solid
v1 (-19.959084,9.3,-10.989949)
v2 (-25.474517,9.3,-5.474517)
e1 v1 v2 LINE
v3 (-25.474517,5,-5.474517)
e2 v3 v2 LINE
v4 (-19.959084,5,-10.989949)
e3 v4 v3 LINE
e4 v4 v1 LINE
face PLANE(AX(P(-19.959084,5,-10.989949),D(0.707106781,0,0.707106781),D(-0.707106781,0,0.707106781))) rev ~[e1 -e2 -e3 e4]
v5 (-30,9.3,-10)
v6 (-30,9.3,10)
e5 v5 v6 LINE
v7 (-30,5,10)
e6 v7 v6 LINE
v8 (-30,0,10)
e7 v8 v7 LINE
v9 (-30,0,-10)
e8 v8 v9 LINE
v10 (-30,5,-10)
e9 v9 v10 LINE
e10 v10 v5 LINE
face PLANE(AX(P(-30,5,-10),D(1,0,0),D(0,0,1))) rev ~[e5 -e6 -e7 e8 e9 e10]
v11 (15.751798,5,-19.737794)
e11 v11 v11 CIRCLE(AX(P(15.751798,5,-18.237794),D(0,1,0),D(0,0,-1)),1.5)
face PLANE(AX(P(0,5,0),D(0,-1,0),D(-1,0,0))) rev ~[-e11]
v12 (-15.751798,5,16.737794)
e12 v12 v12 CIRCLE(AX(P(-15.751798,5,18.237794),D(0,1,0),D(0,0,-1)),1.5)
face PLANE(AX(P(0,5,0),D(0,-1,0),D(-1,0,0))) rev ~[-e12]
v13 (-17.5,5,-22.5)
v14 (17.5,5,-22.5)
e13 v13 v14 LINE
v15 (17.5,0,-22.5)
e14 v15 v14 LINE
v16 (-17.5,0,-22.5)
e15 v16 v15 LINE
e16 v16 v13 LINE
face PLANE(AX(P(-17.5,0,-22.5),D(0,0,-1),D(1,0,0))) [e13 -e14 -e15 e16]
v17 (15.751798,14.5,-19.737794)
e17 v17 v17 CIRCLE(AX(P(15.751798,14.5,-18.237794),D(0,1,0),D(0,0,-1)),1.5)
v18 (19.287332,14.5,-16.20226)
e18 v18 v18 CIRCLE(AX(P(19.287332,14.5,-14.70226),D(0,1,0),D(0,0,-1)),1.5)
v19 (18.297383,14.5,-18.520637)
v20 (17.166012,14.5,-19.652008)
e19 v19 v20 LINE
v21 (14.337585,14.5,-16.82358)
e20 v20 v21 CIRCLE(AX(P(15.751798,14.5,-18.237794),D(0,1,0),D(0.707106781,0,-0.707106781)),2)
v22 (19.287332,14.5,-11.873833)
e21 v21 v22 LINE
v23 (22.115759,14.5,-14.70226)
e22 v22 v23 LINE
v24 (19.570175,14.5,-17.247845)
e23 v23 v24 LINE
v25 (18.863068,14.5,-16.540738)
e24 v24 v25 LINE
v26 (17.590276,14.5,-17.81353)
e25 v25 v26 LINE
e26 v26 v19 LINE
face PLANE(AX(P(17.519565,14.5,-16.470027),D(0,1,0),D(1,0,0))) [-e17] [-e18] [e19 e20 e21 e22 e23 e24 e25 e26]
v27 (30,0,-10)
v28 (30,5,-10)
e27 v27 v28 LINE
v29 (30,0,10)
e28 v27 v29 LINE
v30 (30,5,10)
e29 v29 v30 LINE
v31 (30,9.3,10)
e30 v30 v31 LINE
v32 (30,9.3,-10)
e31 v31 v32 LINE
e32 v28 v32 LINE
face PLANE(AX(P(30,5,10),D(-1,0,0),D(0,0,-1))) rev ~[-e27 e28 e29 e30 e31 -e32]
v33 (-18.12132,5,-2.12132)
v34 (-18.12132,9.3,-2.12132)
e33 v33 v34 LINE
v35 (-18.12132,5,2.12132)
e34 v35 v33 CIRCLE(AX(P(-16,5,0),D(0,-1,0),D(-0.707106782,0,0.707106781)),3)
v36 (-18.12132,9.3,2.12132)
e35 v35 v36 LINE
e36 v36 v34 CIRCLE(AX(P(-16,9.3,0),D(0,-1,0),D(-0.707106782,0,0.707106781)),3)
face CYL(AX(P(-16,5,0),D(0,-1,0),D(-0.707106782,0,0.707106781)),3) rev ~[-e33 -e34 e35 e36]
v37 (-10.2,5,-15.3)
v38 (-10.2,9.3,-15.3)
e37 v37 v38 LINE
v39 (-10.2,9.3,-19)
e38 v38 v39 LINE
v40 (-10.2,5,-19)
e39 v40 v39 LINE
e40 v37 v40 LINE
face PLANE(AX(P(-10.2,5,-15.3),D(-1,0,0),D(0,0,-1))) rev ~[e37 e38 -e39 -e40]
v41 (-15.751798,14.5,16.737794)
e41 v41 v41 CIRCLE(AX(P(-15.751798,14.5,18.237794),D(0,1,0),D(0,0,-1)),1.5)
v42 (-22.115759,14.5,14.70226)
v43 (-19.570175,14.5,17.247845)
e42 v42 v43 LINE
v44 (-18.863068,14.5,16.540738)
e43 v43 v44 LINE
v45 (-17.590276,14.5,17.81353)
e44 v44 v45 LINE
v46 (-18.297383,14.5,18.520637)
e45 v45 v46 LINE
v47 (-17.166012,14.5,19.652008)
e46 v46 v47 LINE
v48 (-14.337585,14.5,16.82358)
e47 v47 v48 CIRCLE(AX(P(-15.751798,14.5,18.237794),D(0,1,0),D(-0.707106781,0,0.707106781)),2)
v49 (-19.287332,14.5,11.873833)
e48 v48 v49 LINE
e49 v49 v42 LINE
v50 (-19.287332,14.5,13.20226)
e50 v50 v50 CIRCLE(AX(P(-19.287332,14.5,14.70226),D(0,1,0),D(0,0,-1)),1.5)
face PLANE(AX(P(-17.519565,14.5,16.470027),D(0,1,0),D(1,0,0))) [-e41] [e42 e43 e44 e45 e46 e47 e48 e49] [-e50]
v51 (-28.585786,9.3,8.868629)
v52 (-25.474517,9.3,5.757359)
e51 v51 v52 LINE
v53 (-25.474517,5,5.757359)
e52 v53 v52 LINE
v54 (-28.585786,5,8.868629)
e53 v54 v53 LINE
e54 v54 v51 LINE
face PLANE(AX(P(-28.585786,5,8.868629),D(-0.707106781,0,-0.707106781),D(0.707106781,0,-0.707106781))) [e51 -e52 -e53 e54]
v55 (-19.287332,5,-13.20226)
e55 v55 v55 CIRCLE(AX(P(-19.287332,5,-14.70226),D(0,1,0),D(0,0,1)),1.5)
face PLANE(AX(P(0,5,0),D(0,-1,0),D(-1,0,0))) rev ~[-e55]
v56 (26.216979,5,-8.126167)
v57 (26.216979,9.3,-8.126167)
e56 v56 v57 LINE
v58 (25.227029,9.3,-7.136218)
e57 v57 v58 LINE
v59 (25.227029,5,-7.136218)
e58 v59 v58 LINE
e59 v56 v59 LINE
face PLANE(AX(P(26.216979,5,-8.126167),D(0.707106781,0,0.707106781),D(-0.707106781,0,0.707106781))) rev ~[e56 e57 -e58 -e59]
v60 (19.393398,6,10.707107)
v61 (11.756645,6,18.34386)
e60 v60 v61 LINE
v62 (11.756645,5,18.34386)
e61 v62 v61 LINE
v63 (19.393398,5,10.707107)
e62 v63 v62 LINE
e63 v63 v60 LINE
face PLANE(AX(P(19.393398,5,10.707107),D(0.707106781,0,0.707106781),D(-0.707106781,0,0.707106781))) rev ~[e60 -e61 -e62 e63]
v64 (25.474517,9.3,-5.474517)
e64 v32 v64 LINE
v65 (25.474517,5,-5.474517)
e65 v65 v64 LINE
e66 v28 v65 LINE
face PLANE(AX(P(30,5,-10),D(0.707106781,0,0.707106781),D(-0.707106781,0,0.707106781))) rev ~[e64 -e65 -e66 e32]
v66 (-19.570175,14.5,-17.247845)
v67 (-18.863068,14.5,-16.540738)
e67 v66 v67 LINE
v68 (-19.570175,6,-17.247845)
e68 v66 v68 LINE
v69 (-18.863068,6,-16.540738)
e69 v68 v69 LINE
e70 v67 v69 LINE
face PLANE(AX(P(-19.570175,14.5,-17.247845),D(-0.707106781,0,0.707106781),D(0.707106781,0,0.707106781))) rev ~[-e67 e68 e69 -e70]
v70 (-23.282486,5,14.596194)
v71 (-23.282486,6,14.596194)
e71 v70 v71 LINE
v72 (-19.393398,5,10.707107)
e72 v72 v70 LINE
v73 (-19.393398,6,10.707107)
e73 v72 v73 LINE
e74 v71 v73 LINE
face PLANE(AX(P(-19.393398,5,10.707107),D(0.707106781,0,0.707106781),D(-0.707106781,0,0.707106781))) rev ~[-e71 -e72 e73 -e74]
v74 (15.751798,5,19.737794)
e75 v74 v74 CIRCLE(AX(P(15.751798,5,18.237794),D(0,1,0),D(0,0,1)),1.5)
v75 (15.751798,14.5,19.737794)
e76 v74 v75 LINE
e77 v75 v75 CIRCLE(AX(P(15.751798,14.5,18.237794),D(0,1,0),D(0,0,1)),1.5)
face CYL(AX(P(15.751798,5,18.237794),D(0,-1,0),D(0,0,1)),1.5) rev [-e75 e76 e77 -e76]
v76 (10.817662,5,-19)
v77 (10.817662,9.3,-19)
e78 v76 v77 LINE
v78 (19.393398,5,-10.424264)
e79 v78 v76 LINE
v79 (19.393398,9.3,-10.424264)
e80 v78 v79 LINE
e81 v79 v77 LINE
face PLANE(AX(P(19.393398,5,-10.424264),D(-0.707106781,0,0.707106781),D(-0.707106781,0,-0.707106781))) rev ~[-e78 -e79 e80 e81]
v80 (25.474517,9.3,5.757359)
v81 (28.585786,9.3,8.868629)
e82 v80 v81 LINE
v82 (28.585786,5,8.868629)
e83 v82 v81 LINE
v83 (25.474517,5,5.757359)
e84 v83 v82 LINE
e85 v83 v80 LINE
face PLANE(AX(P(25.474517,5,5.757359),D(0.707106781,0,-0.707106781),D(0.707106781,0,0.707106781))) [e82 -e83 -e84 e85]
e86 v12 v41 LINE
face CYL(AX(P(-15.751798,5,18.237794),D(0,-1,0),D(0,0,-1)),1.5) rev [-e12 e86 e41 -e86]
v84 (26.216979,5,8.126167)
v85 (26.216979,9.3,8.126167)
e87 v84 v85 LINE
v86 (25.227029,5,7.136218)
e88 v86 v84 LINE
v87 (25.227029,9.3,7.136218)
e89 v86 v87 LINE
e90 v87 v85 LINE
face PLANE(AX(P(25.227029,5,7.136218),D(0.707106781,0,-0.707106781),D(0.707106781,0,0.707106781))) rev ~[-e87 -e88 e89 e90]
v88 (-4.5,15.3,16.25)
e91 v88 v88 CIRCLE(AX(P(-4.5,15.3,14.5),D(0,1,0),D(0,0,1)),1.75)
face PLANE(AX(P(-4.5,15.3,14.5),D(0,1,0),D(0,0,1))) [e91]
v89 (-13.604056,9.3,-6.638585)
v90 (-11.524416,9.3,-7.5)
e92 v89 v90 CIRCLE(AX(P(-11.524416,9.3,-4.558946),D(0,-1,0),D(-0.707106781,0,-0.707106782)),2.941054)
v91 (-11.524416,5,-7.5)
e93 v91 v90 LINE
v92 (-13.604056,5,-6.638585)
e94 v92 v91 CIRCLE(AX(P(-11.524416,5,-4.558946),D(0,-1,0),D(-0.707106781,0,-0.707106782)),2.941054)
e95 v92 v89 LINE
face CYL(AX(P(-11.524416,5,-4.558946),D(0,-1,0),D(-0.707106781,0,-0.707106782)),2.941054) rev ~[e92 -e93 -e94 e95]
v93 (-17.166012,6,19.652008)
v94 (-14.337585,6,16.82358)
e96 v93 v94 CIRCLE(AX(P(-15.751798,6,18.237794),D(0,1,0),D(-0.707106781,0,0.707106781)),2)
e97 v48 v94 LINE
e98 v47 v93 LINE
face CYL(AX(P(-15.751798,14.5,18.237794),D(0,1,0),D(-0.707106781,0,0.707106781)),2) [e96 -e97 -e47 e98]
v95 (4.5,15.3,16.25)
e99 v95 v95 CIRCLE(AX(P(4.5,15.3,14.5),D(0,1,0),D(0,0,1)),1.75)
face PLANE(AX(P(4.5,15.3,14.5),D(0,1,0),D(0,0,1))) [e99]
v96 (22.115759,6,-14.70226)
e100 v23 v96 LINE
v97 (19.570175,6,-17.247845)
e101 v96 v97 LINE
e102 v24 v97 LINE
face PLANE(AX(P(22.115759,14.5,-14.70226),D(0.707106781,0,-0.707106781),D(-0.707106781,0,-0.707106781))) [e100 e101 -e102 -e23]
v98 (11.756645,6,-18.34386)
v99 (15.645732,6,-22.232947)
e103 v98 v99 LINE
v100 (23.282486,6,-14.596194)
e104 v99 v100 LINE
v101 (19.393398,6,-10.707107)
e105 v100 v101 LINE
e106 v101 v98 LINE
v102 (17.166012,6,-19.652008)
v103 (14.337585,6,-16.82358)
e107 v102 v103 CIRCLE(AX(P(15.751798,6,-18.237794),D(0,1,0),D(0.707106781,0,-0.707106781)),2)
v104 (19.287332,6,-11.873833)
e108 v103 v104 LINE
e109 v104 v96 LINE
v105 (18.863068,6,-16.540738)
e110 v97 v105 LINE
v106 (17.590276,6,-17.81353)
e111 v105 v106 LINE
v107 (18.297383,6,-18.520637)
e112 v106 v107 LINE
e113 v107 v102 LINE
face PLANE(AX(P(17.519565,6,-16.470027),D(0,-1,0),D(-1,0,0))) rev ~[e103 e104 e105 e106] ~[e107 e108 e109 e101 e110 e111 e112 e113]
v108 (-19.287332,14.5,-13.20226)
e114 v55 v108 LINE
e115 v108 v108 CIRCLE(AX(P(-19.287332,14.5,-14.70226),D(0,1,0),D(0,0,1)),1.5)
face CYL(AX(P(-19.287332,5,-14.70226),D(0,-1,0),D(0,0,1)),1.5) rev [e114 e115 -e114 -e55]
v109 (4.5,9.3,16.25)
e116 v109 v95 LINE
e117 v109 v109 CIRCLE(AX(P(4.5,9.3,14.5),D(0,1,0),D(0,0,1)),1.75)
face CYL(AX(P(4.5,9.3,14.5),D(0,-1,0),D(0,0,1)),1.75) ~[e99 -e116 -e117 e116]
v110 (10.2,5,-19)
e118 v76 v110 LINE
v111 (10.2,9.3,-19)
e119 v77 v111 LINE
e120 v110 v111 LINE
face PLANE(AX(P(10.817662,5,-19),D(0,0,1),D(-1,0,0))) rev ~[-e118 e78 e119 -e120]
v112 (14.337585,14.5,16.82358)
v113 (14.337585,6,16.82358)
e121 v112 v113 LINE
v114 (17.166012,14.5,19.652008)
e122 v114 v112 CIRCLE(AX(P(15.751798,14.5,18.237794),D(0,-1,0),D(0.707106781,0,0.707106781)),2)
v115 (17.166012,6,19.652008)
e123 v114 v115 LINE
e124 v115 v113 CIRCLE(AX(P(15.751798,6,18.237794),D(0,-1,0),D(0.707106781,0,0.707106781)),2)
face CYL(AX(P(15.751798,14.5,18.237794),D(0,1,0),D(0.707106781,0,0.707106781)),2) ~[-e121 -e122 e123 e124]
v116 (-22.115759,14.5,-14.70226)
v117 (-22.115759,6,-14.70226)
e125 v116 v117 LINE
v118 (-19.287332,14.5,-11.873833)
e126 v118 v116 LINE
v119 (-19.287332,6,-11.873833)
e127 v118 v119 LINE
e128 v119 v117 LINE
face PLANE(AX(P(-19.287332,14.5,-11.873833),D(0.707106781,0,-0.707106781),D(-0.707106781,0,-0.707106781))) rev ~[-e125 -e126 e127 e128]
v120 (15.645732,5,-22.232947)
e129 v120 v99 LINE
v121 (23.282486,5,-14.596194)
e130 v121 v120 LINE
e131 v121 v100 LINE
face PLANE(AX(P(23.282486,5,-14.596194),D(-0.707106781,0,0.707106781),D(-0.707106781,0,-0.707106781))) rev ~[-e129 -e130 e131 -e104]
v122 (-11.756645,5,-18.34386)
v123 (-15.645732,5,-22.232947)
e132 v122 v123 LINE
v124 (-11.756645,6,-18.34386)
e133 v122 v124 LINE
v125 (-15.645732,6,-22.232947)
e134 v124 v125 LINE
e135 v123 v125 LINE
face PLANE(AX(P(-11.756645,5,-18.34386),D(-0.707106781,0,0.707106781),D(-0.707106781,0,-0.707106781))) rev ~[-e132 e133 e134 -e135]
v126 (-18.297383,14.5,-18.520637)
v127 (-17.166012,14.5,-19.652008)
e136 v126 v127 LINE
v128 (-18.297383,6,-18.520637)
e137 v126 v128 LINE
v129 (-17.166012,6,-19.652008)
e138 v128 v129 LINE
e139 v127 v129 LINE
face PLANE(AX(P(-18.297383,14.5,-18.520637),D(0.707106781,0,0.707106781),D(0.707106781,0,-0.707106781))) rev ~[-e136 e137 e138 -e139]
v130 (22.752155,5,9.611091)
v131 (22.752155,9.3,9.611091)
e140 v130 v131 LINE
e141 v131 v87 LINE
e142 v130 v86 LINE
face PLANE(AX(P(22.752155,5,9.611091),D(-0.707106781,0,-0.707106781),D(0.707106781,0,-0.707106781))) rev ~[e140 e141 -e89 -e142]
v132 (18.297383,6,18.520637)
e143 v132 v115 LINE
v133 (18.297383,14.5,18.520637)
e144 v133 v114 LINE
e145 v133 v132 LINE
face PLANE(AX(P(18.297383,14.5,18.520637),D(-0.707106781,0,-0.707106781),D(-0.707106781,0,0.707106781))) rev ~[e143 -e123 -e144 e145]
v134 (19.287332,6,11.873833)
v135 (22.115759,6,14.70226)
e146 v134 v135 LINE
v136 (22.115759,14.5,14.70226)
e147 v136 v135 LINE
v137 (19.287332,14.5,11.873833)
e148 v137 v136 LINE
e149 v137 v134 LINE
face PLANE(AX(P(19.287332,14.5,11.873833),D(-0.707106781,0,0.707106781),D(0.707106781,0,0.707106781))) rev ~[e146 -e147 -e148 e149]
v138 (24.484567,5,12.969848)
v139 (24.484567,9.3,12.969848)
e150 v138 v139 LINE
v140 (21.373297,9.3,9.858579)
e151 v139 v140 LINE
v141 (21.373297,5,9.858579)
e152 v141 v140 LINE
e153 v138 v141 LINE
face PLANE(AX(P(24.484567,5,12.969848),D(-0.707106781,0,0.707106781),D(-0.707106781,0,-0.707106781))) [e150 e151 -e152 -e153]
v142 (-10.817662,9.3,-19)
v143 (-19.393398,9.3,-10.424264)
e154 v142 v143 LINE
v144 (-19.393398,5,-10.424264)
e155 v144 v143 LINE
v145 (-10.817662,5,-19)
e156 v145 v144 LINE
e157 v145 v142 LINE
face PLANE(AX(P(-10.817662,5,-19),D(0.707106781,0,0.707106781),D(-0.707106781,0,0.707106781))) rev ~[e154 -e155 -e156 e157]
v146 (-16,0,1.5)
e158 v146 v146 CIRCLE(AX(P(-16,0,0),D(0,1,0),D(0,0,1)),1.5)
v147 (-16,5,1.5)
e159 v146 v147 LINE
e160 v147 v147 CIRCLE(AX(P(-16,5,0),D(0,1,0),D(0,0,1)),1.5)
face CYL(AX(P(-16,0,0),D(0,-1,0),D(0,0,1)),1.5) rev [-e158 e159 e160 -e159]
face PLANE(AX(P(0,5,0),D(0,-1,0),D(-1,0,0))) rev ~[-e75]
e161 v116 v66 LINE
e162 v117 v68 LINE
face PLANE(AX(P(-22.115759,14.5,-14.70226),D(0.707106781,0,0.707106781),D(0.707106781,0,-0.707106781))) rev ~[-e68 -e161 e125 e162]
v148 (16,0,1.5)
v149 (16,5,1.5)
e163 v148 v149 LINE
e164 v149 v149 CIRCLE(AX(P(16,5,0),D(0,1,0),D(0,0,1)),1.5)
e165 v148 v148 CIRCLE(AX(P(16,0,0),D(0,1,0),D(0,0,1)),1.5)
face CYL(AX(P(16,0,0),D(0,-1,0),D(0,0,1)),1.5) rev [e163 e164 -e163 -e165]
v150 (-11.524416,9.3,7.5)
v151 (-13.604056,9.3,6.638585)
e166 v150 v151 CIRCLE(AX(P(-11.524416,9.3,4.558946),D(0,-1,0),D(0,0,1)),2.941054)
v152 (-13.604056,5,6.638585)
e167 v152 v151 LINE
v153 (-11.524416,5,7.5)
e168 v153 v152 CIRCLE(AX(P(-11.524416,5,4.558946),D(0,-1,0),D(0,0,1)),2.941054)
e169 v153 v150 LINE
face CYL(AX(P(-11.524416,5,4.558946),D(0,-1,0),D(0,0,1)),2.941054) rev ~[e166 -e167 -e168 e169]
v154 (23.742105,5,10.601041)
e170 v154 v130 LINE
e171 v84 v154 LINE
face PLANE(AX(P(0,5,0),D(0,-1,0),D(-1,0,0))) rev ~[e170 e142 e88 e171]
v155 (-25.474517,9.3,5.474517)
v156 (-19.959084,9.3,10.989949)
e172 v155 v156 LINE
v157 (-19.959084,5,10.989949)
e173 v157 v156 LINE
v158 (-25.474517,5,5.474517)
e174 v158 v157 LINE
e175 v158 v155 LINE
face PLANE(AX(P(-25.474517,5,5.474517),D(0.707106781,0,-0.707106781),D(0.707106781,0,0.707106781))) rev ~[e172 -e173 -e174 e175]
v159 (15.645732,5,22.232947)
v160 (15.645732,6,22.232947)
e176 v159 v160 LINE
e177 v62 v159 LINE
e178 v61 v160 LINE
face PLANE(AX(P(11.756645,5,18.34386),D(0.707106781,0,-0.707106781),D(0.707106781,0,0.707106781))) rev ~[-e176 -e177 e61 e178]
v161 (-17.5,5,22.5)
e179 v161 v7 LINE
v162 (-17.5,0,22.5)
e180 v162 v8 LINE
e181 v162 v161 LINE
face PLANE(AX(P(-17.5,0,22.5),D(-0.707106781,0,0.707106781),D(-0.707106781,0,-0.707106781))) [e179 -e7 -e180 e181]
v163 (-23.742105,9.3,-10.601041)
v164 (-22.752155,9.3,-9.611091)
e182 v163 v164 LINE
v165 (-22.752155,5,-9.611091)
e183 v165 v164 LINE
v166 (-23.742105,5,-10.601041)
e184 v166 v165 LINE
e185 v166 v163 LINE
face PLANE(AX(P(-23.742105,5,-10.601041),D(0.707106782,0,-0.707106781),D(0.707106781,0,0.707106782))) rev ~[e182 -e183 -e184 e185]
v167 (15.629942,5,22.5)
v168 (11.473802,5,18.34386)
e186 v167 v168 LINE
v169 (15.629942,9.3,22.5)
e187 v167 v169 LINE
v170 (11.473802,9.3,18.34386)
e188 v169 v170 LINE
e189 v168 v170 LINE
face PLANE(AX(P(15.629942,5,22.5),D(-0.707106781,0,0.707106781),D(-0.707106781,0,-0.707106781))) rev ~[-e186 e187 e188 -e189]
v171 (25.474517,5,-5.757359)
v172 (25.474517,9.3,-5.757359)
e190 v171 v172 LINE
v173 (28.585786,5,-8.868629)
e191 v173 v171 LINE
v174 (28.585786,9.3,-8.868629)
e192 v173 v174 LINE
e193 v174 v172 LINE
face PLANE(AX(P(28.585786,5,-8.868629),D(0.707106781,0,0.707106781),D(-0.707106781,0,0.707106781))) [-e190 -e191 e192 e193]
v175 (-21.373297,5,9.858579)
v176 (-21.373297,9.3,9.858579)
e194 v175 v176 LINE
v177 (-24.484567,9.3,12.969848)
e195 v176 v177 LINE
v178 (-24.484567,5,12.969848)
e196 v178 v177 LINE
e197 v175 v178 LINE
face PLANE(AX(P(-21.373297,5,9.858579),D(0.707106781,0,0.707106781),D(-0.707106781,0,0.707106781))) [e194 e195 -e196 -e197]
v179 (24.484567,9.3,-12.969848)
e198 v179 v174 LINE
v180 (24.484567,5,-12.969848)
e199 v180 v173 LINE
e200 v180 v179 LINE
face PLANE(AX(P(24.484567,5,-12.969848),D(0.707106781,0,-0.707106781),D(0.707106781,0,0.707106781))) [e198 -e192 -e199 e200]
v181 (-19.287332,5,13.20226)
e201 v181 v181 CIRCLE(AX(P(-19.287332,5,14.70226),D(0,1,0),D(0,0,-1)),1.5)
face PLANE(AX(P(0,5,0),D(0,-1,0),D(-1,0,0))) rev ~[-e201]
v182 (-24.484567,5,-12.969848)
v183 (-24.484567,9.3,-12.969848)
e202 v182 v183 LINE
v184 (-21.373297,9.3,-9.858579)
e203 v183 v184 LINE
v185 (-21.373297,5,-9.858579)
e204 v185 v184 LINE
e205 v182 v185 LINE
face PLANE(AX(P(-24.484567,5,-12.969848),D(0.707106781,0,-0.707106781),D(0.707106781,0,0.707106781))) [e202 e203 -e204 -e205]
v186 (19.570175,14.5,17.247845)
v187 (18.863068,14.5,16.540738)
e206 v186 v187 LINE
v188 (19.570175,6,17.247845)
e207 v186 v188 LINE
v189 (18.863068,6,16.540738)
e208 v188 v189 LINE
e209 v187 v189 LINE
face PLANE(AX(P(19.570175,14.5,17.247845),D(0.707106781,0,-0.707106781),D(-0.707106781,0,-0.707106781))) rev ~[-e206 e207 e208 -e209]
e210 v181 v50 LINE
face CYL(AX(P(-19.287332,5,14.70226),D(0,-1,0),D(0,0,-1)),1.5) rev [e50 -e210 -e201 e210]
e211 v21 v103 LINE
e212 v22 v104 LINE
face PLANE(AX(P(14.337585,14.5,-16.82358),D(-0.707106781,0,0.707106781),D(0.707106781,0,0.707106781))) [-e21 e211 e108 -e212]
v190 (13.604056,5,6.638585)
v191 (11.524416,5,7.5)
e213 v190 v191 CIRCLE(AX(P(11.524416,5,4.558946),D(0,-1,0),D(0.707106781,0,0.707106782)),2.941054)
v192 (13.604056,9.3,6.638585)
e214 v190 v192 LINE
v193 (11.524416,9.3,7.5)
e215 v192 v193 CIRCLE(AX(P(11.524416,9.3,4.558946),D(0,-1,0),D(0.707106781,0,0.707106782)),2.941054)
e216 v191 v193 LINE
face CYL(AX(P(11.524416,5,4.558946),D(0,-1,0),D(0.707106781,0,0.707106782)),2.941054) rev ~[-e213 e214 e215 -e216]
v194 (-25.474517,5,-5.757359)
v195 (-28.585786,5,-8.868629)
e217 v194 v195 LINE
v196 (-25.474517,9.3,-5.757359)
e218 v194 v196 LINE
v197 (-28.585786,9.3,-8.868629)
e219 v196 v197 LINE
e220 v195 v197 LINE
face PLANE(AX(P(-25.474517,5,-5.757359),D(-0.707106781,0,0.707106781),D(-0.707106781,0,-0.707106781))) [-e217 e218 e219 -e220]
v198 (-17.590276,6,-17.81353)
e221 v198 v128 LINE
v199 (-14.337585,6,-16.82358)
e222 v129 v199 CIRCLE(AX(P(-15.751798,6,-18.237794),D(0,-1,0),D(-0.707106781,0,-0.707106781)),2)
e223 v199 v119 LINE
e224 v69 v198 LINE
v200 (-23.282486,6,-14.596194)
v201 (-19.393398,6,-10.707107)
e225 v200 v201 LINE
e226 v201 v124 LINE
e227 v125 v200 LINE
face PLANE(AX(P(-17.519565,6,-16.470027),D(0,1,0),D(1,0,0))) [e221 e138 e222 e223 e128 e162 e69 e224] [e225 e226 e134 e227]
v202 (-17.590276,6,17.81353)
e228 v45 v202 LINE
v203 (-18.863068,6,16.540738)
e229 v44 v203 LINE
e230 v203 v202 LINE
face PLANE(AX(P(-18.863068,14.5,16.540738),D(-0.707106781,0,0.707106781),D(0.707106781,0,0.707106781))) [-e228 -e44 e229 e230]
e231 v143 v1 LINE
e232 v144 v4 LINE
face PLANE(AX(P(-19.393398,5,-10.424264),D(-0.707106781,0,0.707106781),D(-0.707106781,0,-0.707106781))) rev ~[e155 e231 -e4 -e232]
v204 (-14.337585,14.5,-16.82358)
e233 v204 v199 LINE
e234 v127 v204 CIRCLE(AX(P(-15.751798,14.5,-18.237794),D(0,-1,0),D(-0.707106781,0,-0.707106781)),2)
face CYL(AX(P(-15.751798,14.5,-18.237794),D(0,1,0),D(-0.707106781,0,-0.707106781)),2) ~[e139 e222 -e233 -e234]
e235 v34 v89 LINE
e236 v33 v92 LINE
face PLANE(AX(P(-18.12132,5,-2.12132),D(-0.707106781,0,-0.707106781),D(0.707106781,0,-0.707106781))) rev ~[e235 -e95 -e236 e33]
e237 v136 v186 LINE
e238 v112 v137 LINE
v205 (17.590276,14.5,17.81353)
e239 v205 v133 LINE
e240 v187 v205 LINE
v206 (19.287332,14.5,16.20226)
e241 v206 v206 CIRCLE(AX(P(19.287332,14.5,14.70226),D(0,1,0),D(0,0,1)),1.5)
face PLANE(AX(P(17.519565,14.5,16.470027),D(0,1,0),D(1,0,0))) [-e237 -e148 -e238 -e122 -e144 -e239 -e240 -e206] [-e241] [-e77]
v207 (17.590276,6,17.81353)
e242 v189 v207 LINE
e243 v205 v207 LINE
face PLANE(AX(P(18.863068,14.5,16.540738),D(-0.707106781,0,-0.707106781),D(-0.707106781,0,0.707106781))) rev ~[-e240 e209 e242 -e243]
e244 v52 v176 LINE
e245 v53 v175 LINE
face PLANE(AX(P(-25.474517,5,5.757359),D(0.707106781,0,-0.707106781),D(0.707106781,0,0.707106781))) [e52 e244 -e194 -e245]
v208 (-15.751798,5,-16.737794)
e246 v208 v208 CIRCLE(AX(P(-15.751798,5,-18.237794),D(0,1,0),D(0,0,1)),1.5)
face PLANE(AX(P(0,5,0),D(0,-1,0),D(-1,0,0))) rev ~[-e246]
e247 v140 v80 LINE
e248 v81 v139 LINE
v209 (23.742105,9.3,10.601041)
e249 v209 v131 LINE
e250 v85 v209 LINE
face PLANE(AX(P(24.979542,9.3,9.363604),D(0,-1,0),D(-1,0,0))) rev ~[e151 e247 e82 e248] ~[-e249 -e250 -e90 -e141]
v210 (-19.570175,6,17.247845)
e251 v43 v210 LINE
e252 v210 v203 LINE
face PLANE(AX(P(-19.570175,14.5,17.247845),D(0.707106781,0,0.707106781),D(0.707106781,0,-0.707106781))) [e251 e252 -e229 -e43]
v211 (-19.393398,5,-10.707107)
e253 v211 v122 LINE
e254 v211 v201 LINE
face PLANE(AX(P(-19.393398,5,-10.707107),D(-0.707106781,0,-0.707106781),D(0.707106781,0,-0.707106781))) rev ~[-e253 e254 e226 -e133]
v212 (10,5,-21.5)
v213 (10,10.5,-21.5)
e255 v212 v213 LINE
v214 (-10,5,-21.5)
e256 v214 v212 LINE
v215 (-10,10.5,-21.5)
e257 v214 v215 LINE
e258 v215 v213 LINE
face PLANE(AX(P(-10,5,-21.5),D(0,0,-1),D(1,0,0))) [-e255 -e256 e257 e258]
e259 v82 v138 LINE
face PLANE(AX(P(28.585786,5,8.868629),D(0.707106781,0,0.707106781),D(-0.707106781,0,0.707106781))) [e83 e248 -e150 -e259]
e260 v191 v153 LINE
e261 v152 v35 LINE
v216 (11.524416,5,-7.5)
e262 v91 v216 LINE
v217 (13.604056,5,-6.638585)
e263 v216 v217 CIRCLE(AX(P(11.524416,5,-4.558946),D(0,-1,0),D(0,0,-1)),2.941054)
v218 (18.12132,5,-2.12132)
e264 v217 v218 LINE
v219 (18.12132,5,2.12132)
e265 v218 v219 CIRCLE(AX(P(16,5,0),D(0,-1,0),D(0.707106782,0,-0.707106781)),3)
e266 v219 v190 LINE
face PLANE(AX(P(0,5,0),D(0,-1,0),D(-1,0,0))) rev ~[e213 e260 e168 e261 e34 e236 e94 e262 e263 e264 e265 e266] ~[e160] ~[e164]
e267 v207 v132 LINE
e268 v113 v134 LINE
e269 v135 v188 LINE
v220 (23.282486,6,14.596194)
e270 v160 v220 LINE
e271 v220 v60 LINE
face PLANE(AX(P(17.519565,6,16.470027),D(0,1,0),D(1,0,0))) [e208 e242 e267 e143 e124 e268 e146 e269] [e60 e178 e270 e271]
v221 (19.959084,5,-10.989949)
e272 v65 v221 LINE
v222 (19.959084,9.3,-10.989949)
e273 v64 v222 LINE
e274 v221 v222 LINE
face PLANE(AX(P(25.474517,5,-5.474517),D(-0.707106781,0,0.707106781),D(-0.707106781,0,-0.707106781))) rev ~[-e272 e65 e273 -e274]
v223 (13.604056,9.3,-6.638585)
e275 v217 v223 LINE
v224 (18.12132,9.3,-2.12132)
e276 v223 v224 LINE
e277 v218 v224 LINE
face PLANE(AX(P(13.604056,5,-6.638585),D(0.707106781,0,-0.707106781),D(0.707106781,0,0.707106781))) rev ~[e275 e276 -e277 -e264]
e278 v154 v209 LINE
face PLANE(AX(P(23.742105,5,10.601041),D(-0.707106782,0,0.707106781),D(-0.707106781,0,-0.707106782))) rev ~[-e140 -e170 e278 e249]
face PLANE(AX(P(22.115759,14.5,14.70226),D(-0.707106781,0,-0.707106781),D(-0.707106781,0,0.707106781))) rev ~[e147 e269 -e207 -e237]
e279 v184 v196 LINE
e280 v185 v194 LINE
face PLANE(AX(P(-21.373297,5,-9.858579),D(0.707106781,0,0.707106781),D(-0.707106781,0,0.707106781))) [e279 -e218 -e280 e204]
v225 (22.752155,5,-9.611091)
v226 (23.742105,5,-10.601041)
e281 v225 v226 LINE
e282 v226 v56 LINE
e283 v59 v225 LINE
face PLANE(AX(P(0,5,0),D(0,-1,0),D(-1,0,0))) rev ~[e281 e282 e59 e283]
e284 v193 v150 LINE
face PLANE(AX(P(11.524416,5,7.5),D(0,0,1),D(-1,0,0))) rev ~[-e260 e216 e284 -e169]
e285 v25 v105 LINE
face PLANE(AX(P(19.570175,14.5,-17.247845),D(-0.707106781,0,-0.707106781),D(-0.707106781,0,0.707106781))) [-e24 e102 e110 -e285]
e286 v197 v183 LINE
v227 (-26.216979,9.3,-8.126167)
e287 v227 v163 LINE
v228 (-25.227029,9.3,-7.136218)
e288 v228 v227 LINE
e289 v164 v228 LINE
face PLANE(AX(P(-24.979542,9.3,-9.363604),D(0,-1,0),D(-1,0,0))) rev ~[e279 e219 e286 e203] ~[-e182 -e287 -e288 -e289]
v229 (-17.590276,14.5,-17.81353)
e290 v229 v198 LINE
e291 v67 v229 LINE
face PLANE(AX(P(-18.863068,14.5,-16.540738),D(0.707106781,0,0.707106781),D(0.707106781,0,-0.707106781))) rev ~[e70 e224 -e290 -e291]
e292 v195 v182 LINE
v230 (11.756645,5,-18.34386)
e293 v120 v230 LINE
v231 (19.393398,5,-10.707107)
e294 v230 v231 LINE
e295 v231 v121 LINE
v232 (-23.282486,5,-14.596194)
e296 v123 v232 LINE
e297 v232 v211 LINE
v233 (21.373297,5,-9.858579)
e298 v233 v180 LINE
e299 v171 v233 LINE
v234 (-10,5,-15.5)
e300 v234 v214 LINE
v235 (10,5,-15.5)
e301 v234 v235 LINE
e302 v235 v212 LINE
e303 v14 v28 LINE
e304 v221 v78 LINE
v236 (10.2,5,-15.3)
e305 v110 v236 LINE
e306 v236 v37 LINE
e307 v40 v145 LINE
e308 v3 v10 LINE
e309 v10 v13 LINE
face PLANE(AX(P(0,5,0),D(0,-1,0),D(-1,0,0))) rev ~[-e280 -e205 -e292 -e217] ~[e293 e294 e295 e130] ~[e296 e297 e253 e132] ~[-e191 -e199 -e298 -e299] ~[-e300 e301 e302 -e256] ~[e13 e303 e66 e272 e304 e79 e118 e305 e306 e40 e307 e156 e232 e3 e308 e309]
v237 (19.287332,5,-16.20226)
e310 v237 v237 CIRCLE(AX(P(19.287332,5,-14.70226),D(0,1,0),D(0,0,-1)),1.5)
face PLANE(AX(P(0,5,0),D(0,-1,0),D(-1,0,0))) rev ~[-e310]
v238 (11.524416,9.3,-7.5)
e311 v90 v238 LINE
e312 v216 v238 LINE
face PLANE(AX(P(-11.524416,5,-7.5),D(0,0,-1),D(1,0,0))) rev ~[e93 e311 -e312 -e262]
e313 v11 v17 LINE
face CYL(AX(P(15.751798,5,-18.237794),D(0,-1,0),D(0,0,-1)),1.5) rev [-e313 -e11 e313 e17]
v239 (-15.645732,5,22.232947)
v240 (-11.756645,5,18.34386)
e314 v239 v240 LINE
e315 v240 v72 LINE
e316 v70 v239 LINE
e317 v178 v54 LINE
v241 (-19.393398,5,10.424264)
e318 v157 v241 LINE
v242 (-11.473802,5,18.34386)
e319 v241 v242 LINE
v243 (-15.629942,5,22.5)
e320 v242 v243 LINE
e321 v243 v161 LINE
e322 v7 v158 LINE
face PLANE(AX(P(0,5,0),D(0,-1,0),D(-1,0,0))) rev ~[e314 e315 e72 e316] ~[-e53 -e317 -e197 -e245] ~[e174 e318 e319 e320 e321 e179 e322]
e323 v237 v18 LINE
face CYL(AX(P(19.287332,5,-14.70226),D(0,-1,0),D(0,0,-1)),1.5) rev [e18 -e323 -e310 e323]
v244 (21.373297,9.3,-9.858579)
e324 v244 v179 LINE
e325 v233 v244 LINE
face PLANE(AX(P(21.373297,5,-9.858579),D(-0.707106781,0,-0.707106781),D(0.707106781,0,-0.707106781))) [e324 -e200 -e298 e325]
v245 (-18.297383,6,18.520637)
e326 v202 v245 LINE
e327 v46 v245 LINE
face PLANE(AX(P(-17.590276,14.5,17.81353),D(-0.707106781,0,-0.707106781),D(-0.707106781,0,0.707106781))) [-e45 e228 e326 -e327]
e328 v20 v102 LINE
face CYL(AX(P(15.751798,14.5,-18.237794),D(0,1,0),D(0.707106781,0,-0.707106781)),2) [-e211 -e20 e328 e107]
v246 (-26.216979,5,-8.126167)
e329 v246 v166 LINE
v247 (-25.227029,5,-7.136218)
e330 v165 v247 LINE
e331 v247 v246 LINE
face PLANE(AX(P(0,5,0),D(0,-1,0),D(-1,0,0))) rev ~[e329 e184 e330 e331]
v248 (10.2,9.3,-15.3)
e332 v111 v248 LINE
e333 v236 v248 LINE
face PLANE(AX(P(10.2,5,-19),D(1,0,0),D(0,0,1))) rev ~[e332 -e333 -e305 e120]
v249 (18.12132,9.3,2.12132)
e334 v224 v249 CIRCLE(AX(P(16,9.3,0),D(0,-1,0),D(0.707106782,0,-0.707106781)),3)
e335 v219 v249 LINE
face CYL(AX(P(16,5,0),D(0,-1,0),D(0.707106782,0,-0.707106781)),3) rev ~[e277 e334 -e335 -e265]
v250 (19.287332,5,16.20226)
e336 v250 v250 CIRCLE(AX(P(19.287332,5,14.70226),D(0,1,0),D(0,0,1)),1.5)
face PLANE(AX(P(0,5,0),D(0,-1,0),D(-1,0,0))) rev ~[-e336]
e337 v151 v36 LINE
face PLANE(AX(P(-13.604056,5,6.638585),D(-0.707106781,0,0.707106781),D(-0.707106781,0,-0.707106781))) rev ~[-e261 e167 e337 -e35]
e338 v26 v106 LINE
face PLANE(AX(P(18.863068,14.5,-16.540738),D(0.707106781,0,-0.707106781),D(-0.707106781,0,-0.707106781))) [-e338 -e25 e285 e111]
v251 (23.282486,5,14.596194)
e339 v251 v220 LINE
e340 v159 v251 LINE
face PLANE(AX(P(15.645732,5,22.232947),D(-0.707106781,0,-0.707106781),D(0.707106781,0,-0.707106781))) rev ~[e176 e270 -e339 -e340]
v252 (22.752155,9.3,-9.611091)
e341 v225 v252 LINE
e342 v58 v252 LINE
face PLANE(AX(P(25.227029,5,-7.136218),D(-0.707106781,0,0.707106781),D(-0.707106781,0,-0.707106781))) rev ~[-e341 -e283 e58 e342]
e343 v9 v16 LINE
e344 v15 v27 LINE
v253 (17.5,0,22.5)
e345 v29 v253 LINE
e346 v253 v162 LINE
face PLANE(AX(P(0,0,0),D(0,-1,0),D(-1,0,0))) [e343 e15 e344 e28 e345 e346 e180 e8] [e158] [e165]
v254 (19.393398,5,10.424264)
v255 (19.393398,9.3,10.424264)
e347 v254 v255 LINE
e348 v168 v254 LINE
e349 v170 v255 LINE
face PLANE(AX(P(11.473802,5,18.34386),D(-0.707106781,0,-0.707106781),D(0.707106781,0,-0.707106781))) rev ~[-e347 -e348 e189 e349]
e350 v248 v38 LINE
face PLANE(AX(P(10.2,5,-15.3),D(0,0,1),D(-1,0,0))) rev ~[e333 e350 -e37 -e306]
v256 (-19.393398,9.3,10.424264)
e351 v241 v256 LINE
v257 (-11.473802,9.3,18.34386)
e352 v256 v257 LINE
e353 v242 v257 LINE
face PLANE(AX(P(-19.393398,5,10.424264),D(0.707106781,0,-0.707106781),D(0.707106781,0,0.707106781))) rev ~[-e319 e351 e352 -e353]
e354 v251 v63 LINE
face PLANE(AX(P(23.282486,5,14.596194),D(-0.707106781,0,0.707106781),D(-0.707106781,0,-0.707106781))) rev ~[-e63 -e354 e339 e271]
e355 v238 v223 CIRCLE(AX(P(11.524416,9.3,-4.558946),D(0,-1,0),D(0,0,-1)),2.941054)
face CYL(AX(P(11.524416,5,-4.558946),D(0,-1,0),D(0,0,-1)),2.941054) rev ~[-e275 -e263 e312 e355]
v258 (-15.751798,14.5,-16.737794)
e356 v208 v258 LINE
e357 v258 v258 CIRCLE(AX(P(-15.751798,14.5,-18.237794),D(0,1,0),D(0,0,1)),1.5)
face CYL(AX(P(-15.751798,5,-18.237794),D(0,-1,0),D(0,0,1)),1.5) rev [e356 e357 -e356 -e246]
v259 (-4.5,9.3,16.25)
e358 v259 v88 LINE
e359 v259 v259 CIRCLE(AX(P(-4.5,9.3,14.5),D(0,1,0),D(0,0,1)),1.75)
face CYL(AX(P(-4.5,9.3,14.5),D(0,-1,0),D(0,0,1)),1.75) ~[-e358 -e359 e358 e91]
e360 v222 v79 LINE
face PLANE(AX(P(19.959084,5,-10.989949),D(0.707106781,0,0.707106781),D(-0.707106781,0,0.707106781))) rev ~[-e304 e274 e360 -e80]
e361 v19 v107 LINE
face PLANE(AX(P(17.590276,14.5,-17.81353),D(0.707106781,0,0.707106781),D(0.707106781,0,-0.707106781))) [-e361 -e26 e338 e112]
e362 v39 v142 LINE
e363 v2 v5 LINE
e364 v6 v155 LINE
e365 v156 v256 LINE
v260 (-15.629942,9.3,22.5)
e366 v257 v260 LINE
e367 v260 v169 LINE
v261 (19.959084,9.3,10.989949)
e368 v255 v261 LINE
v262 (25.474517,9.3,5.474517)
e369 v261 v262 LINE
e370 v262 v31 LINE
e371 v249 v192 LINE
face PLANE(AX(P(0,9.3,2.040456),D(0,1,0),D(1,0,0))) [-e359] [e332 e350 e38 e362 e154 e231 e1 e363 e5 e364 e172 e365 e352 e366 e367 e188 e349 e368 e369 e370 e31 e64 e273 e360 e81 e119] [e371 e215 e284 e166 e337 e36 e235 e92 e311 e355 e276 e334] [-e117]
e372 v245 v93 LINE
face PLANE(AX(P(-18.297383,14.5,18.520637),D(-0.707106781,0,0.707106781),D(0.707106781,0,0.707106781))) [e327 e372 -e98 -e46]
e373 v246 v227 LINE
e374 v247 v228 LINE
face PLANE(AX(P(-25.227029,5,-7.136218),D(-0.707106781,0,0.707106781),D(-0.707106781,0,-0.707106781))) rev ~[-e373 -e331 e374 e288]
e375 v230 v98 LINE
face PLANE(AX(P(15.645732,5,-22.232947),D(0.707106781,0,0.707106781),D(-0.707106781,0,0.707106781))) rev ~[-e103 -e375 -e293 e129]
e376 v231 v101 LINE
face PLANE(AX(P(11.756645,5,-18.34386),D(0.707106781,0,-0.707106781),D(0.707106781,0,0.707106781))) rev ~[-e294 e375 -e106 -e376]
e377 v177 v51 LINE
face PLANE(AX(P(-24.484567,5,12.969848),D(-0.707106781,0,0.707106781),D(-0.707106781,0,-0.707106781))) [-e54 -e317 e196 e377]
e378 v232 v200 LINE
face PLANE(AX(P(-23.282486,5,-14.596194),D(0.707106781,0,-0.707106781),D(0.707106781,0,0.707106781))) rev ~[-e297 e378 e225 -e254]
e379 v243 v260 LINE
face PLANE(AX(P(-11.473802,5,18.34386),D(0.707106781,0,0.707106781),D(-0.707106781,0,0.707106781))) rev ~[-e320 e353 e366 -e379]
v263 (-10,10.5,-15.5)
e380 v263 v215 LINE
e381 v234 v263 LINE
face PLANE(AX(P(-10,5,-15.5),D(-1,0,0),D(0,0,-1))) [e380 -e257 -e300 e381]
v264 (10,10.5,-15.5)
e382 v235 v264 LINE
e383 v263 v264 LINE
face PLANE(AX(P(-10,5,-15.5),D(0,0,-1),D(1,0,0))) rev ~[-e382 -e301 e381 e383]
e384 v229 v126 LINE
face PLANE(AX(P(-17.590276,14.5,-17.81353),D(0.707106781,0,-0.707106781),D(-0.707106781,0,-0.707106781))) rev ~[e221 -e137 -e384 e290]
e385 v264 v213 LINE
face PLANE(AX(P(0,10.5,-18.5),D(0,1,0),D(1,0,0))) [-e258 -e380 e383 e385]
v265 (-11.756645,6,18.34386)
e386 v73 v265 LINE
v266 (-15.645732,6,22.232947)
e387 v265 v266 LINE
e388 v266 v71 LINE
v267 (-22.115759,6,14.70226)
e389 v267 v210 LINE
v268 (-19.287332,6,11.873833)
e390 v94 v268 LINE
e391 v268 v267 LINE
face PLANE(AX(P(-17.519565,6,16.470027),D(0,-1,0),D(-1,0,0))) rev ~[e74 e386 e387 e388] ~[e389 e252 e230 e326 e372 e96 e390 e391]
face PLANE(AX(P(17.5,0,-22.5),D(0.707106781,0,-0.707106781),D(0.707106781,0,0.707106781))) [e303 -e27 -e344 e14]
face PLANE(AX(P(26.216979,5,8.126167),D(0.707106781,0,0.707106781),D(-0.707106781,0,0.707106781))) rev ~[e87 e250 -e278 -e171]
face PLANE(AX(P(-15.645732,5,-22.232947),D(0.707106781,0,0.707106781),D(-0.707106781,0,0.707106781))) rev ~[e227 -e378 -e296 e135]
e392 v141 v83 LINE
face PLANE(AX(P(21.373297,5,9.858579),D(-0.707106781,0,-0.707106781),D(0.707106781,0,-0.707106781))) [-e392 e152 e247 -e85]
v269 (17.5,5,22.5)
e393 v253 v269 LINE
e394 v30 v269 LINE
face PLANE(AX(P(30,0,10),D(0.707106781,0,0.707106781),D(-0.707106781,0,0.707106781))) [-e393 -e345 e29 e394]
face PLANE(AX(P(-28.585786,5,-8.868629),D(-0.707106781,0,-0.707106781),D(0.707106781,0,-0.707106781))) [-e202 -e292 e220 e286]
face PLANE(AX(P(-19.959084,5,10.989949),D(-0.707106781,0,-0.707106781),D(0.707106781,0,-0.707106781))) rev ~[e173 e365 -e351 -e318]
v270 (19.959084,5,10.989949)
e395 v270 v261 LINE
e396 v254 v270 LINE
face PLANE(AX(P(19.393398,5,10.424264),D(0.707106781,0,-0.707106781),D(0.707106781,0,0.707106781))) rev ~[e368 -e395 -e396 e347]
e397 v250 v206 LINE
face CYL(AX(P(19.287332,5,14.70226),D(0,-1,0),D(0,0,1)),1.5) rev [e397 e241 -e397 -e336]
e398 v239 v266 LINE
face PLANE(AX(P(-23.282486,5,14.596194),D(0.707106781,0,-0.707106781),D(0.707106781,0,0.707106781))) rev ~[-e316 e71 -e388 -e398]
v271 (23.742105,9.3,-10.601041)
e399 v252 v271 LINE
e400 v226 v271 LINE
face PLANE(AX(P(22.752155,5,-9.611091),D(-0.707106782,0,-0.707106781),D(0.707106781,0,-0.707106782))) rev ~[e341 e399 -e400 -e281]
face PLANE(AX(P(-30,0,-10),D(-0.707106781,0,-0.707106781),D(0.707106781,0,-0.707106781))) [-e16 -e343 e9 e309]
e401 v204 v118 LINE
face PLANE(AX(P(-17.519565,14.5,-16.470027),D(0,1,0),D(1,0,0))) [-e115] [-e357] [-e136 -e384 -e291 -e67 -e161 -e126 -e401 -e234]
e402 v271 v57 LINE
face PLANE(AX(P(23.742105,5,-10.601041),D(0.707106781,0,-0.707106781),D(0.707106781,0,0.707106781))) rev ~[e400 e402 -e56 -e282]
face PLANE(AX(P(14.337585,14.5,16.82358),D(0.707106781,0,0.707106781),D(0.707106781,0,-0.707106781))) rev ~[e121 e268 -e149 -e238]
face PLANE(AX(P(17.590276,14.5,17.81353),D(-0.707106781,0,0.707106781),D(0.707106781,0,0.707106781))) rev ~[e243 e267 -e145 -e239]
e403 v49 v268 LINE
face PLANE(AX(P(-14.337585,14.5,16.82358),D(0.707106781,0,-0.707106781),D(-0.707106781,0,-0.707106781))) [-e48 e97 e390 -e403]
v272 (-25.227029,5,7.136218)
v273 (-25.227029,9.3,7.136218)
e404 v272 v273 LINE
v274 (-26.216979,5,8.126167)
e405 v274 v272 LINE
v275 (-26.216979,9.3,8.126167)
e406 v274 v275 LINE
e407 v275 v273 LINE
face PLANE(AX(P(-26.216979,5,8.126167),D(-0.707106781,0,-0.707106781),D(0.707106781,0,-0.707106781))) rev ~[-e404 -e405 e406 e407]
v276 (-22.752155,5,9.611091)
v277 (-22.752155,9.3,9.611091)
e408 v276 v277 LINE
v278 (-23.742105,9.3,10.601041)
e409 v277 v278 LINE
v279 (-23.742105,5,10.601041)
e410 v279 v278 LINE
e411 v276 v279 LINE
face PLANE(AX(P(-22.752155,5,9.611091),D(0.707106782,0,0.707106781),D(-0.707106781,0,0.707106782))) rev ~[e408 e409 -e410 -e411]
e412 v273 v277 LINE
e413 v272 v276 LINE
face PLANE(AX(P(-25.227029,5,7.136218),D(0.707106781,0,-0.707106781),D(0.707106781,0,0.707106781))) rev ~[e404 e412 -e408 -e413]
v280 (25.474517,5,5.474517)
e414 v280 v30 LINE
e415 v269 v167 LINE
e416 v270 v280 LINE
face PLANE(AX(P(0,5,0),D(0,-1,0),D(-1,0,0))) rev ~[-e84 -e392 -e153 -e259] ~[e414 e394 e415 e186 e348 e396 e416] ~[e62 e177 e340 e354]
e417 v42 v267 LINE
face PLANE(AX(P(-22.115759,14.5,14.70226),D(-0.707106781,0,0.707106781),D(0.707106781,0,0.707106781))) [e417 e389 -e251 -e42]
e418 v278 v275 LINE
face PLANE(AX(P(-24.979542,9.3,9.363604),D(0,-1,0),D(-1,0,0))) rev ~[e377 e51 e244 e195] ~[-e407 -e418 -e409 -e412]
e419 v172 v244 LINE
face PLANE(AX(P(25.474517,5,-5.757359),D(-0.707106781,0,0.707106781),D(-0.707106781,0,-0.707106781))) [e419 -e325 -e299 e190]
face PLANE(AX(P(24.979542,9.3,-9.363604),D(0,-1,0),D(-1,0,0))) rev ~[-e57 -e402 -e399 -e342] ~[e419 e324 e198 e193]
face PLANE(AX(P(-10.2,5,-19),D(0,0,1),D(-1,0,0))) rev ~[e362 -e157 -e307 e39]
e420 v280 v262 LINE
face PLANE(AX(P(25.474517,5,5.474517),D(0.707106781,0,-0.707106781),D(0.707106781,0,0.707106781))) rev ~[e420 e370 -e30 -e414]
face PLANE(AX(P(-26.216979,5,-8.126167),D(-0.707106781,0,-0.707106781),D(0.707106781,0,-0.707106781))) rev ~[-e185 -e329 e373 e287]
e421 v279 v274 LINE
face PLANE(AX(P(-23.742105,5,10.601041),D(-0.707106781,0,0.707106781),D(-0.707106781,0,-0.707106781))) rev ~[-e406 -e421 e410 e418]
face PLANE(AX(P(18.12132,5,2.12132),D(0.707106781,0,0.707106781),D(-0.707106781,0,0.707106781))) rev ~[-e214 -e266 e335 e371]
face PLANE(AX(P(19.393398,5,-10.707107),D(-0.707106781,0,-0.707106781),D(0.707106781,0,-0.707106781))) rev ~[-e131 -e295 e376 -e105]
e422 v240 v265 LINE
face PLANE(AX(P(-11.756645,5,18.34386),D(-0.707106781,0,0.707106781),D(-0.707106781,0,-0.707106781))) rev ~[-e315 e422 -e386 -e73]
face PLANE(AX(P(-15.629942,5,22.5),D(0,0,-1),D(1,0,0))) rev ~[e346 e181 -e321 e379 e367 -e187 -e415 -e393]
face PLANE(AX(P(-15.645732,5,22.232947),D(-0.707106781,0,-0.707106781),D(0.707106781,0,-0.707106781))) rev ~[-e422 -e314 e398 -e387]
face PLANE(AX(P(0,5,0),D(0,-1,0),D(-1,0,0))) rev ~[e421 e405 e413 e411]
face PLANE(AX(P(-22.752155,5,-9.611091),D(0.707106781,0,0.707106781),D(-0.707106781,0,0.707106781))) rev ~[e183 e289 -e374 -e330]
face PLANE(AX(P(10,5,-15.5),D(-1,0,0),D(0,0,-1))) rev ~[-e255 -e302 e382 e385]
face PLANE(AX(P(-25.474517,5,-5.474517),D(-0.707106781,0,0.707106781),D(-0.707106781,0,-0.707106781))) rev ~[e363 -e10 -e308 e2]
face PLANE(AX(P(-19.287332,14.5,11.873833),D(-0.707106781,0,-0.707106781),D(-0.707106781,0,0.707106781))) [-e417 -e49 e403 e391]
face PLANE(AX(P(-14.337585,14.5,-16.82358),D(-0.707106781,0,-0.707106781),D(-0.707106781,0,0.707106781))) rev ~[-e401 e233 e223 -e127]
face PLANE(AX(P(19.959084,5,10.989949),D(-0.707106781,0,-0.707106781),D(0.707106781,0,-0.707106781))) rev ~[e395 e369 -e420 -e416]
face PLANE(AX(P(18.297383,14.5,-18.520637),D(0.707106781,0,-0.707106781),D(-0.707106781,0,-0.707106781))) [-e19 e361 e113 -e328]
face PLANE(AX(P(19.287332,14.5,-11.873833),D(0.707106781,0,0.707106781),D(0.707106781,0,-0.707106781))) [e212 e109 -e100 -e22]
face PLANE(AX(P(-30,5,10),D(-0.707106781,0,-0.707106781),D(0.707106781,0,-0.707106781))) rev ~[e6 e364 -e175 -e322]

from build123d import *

# Parameters (mm, degrees)
SKETCH_1_R          = 1.5
EXTRUDE_1_DEPTH     = 5
SKETCH_2_R          = 1.5
EXTRUDE_2_DEPTH     = 9.5
CUT_EXTRUDE_1_DEPTH = 8.5
EXTRUDE_3_DEPTH     = 4.3
SKETCH_6_W          = 20
SKETCH_6_H          = 6
EXTRUDE_4_DEPTH     = 5.5
EXTRUDE_5_DEPTH     = 4.3
SKETCH_8_R          = 1.75
EXTRUDE_6_DEPTH     = 6


with BuildPart() as part:
    # 草图1 → 凸台-拉伸1 (new body)
    with BuildSketch(Plane(origin=(0, 0, 0), x_dir=(1, 0, 0), z_dir=(0, 1, 0))):
        Polygon((-30, 10), (-17.5, 22.5), (17.5, 22.5), (30, 10), (30, -10), (17.5, -22.5), (-17.5, -22.5), (-30, -10), align=None)
        with Locations(Location((-16, 0, 0), (0, 0, 270))):
            Circle(SKETCH_1_R, mode=Mode.SUBTRACT)
        with Locations(Location((16, 0, 0), (0, 0, 270))):
            Circle(SKETCH_1_R, mode=Mode.SUBTRACT)
    extrude(amount=EXTRUDE_1_DEPTH)

    # 草图2 → 凸台-拉伸2 (add)
    # profile 1 of 4: a face of its own
    with BuildSketch(Plane(origin=(0, 5, 0), x_dir=(1, 0, 0), z_dir=(0, 1, 0))):
        Polygon((-23.282485579, 14.596194078), (-19.393398282, 10.707106781), (-11.756645045, 18.343860018), (-15.645732342, 22.232947315), align=None)
        with Locations(Location((-15.751798359, 18.237794001, 0), (0, 0, 270))):
            Circle(SKETCH_2_R, mode=Mode.SUBTRACT)
        with Locations(Location((-19.287332265, 14.702260095, 0), (0, 0, 270))):
            Circle(SKETCH_2_R, mode=Mode.SUBTRACT)
    # profile 2 of 4: a face of its own
    with BuildSketch(Plane(origin=(0, 5, 0), x_dir=(1, 0, 0), z_dir=(0, 1, 0))):
        Polygon((15.645732342, 22.232947315), (11.756645045, 18.343860018), (19.393398282, 10.707106781), (23.282485579, 14.596194078), align=None)
        with Locations(Location((19.287332265, 14.702260095, 0), (0, 0, 90))):
            Circle(SKETCH_2_R, mode=Mode.SUBTRACT)
        with Locations(Location((15.751798359, 18.237794001, 0), (0, 0, 90))):
            Circle(SKETCH_2_R, mode=Mode.SUBTRACT)
    # profile 3 of 4: a face of its own
    with BuildSketch(Plane(origin=(0, 5, 0), x_dir=(1, 0, 0), z_dir=(0, 1, 0))):
        Polygon((23.282485579, -14.596194078), (19.393398282, -10.707106781), (11.756645045, -18.343860018), (15.645732342, -22.232947315), align=None)
        with Locations(Location((15.751798359, -18.237794001, 0), (0, 0, 270))):
            Circle(SKETCH_2_R, mode=Mode.SUBTRACT)
        with Locations(Location((19.287332265, -14.702260095, 0), (0, 0, 270))):
            Circle(SKETCH_2_R, mode=Mode.SUBTRACT)
    # profile 4 of 4: a face of its own
    with BuildSketch(Plane(origin=(0, 5, 0), x_dir=(1, 0, 0), z_dir=(0, 1, 0))):
        Polygon((-15.645732342, -22.232947315), (-11.756645045, -18.343860018), (-19.393398282, -10.707106781), (-23.282485579, -14.596194078), align=None)
        with Locations(Location((-19.287332265, -14.702260095, 0), (0, 0, 90))):
            Circle(SKETCH_2_R, mode=Mode.SUBTRACT)
        with Locations(Location((-15.751798359, -18.237794001, 0), (0, 0, 90))):
            Circle(SKETCH_2_R, mode=Mode.SUBTRACT)
    extrude(amount=EXTRUDE_2_DEPTH)

    # 草图3 → 切除-拉伸1 (cut)
    # profile 1 of 4: a face of its own
    with BuildSketch(Plane(origin=(0, 14.5, 0), x_dir=(1, 0, 0), z_dir=(0, 1, 0))):
        Polygon((-15.645732342, 22.232947315), (-23.282485579, 14.596194078), (-19.393398282, 10.707106781), (-11.756645045, 18.343860018), align=None)
        with BuildLine():
            Line((-14.337584797, 16.823580438), (-19.287332265, 11.87383297))
            Line((-19.287332265, 11.87383297), (-22.11575939, 14.702260095))
            Line((-22.11575939, 14.702260095), (-19.570174977, 17.247844507))
            Line((-19.570174977, 17.247844507), (-18.863068196, 16.540737726))
            Line((-18.863068196, 16.540737726), (-17.59027599, 17.813529932))
            Line((-17.59027599, 17.813529932), (-18.297382771, 18.520636713))
            Line((-18.297382771, 18.520636713), (-17.166011921, 19.652007563))
            ThreePointArc((-17.166011921, 19.652007563), (-14.337584797, 19.652007563), (-14.337584797, 16.823580438))
        make_face(mode=Mode.SUBTRACT)
    # profile 2 of 4: a face of its own
    with BuildSketch(Plane(origin=(0, 14.5, 0), x_dir=(1, 0, 0), z_dir=(0, 1, 0))):
        Polygon((11.756645045, 18.343860018), (15.645732342, 22.232947315), (23.282485579, 14.596194078), (19.393398282, 10.707106781), align=None)
        with BuildLine():
            Line((18.297382771, 18.520636713), (17.166011921, 19.652007563))
            ThreePointArc((17.166011921, 19.652007563), (14.337584797, 19.652007563), (14.337584797, 16.823580438))
            Line((14.337584797, 16.823580438), (19.287332265, 11.87383297))
            Line((19.287332265, 11.87383297), (22.11575939, 14.702260095))
            Line((22.11575939, 14.702260095), (19.570174977, 17.247844507))
            Line((19.570174977, 17.247844507), (18.863068196, 16.540737726))
            Line((18.863068196, 16.540737726), (17.59027599, 17.813529932))
            Line((17.59027599, 17.813529932), (18.297382771, 18.520636713))
        make_face(mode=Mode.SUBTRACT)
    # profile 3 of 4: a face of its own
    with BuildSketch(Plane(origin=(0, 14.5, 0), x_dir=(1, 0, 0), z_dir=(0, 1, 0))):
        Polygon((15.645732342, -22.232947315), (23.282485579, -14.596194078), (19.393398282, -10.707106781), (11.756645045, -18.343860018), align=None)
        with BuildLine():
            Line((14.337584797, -16.823580438), (19.287332265, -11.87383297))
            Line((19.287332265, -11.87383297), (22.11575939, -14.702260095))
            Line((22.11575939, -14.702260095), (19.570174977, -17.247844507))
            Line((19.570174977, -17.247844507), (18.863068196, -16.540737726))
            Line((18.863068196, -16.540737726), (17.59027599, -17.813529932))
            Line((17.59027599, -17.813529932), (18.297382771, -18.520636713))
            Line((18.297382771, -18.520636713), (17.166011921, -19.652007563))
            ThreePointArc((17.166011921, -19.652007563), (14.337584797, -19.652007563), (14.337584797, -16.823580438))
        make_face(mode=Mode.SUBTRACT)
    # profile 4 of 4: a face of its own
    with BuildSketch(Plane(origin=(0, 14.5, 0), x_dir=(1, 0, 0), z_dir=(0, 1, 0))):
        Polygon((-11.756645045, -18.343860018), (-15.645732342, -22.232947315), (-23.282485579, -14.596194078), (-19.393398282, -10.707106781), align=None)
        with BuildLine():
            Line((-18.297382771, -18.520636713), (-17.166011921, -19.652007563))
            ThreePointArc((-17.166011921, -19.652007563), (-14.337584797, -19.652007563), (-14.337584797, -16.823580438))
            Line((-14.337584797, -16.823580438), (-19.287332265, -11.87383297))
            Line((-19.287332265, -11.87383297), (-22.11575939, -14.702260095))
            Line((-22.11575939, -14.702260095), (-19.570174977, -17.247844507))
            Line((-19.570174977, -17.247844507), (-18.863068196, -16.540737726))
            Line((-18.863068196, -16.540737726), (-17.59027599, -17.813529932))
            Line((-17.59027599, -17.813529932), (-18.297382771, -18.520636713))
        make_face(mode=Mode.SUBTRACT)
    extrude(amount=-CUT_EXTRUDE_1_DEPTH, mode=Mode.SUBTRACT)

    # 草图4 → 凸台-拉伸3 (add)
    # profile 1 of 4: a face of its own
    with BuildSketch(Plane(origin=(0, 5, 0), x_dir=(1, 0, 0), z_dir=(0, 1, 0))):
        Polygon((-28.585786438, 8.86862915), (-24.484567107, 12.969848481), (-21.37329727, 9.858578644), (-25.4745166, 5.757359313), align=None)
        Polygon((-26.216978721, 8.12616703), (-23.742104986, 10.601040764), (-22.752155493, 9.61109127), (-25.227029227, 7.136217536), align=None, mode=Mode.SUBTRACT)
    # profile 2 of 4: a face of its own
    with BuildSketch(Plane(origin=(0, 5, 0), x_dir=(1, 0, 0), z_dir=(0, 1, 0))):
        Polygon((25.4745166, 5.757359313), (21.37329727, 9.858578644), (24.484567107, 12.969848481), (28.585786438, 8.86862915), align=None)
        Polygon((25.227029227, 7.136217536), (22.752155493, 9.61109127), (23.742104986, 10.601040764), (26.216978721, 8.12616703), align=None, mode=Mode.SUBTRACT)
    # profile 3 of 4: a face of its own
    with BuildSketch(Plane(origin=(0, 5, 0), x_dir=(1, 0, 0), z_dir=(0, 1, 0))):
        Polygon((28.585786438, -8.86862915), (24.484567107, -12.969848481), (21.37329727, -9.858578644), (25.4745166, -5.757359313), align=None)
        Polygon((26.216978721, -8.12616703), (23.742104986, -10.601040764), (22.752155493, -9.61109127), (25.227029227, -7.136217536), align=None, mode=Mode.SUBTRACT)
    # profile 4 of 4: a face of its own
    with BuildSketch(Plane(origin=(0, 5, 0), x_dir=(1, 0, 0), z_dir=(0, 1, 0))):
        Polygon((-25.4745166, -5.757359313), (-21.37329727, -9.858578644), (-24.484567107, -12.969848481), (-28.585786438, -8.86862915), align=None)
        Polygon((-25.227029227, -7.136217536), (-22.752155493, -9.61109127), (-23.742104986, -10.601040764), (-26.216978721, -8.12616703), align=None, mode=Mode.SUBTRACT)
    extrude(amount=EXTRUDE_3_DEPTH)

    # 草图6 → 凸台-拉伸4 (add)
    with BuildSketch(Plane(origin=(0, 5, 0), x_dir=(1, 0, 0), z_dir=(0, 1, 0))):
        with Locations((0, 18.5)):
            Rectangle(SKETCH_6_W, SKETCH_6_H)
    extrude(amount=EXTRUDE_4_DEPTH)

    # 草图5 → 凸台-拉伸5 (add)
    with BuildSketch(Plane(origin=(0, 5, 0), x_dir=(1, 0, 0), z_dir=(0, 1, 0))):
        Polygon((-30, 10), (-30, -10), (-25.4745166, -5.4745166), (-19.959083707, -10.989949494), (-19.393398282, -10.424264069), (-11.473802333, -18.343860018), (-15.629942315, -22.5), (15.629942315, -22.5), (11.473802333, -18.343860018), (19.393398282, -10.424264069), (19.959083707, -10.989949494), (25.4745166, -5.4745166), (30, -10), (30, 10), (25.4745166, 5.4745166), (19.959083707, 10.989949494), (19.393398282, 10.424264069), (10.817662351, 19), (10.2, 19), (10.2, 15.3), (-10.2, 15.3), (-10.2, 19), (-10.817662351, 19), (-19.393398282, 10.424264069), (-19.959083707, 10.989949494), (-25.4745166, 5.4745166), align=None)
        with BuildLine():
            Line((-18.121320344, 2.121320344), (-13.604055577, 6.63858511))
            ThreePointArc((-13.604055577, 6.63858511), (-12.649908859, 7.276125564), (-11.524416066, 7.5))
            Line((-11.524416066, 7.5), (11.524416066, 7.5))
            ThreePointArc((11.524416066, 7.5), (12.649908859, 7.276125564), (13.604055577, 6.63858511))
            Line((13.604055577, 6.63858511), (18.121320344, 2.121320344))
            ThreePointArc((18.121320344, 2.121320344), (19, 0), (18.121320344, -2.121320344))
            Line((18.121320344, -2.121320344), (13.604055577, -6.63858511))
            ThreePointArc((13.604055577, -6.63858511), (12.649908859, -7.276125564), (11.524416066, -7.5))
            Line((11.524416066, -7.5), (-11.524416066, -7.5))
            ThreePointArc((-11.524416066, -7.5), (-12.649908859, -7.276125564), (-13.604055577, -6.63858511))
            Line((-13.604055577, -6.63858511), (-18.121320344, -2.121320344))
            ThreePointArc((-18.121320344, -2.121320344), (-19, 0), (-18.121320344, 2.121320344))
        make_face(mode=Mode.SUBTRACT)
    extrude(amount=EXTRUDE_5_DEPTH)

    # 草图8 → 凸台-拉伸6 (add)
    with BuildSketch(Plane(origin=(0, 9.3, 0), x_dir=(1, 0, 0), z_dir=(0, 1, 0))):
        with Locations(Location((-4.5, -14.5, 0), (0, 0, 270))):
            Circle(SKETCH_8_R)
        with Locations(Location((4.5, -14.5, 0), (0, 0, 270))):
            Circle(SKETCH_8_R)
    extrude(amount=EXTRUDE_6_DEPTH)


solid = part.part
